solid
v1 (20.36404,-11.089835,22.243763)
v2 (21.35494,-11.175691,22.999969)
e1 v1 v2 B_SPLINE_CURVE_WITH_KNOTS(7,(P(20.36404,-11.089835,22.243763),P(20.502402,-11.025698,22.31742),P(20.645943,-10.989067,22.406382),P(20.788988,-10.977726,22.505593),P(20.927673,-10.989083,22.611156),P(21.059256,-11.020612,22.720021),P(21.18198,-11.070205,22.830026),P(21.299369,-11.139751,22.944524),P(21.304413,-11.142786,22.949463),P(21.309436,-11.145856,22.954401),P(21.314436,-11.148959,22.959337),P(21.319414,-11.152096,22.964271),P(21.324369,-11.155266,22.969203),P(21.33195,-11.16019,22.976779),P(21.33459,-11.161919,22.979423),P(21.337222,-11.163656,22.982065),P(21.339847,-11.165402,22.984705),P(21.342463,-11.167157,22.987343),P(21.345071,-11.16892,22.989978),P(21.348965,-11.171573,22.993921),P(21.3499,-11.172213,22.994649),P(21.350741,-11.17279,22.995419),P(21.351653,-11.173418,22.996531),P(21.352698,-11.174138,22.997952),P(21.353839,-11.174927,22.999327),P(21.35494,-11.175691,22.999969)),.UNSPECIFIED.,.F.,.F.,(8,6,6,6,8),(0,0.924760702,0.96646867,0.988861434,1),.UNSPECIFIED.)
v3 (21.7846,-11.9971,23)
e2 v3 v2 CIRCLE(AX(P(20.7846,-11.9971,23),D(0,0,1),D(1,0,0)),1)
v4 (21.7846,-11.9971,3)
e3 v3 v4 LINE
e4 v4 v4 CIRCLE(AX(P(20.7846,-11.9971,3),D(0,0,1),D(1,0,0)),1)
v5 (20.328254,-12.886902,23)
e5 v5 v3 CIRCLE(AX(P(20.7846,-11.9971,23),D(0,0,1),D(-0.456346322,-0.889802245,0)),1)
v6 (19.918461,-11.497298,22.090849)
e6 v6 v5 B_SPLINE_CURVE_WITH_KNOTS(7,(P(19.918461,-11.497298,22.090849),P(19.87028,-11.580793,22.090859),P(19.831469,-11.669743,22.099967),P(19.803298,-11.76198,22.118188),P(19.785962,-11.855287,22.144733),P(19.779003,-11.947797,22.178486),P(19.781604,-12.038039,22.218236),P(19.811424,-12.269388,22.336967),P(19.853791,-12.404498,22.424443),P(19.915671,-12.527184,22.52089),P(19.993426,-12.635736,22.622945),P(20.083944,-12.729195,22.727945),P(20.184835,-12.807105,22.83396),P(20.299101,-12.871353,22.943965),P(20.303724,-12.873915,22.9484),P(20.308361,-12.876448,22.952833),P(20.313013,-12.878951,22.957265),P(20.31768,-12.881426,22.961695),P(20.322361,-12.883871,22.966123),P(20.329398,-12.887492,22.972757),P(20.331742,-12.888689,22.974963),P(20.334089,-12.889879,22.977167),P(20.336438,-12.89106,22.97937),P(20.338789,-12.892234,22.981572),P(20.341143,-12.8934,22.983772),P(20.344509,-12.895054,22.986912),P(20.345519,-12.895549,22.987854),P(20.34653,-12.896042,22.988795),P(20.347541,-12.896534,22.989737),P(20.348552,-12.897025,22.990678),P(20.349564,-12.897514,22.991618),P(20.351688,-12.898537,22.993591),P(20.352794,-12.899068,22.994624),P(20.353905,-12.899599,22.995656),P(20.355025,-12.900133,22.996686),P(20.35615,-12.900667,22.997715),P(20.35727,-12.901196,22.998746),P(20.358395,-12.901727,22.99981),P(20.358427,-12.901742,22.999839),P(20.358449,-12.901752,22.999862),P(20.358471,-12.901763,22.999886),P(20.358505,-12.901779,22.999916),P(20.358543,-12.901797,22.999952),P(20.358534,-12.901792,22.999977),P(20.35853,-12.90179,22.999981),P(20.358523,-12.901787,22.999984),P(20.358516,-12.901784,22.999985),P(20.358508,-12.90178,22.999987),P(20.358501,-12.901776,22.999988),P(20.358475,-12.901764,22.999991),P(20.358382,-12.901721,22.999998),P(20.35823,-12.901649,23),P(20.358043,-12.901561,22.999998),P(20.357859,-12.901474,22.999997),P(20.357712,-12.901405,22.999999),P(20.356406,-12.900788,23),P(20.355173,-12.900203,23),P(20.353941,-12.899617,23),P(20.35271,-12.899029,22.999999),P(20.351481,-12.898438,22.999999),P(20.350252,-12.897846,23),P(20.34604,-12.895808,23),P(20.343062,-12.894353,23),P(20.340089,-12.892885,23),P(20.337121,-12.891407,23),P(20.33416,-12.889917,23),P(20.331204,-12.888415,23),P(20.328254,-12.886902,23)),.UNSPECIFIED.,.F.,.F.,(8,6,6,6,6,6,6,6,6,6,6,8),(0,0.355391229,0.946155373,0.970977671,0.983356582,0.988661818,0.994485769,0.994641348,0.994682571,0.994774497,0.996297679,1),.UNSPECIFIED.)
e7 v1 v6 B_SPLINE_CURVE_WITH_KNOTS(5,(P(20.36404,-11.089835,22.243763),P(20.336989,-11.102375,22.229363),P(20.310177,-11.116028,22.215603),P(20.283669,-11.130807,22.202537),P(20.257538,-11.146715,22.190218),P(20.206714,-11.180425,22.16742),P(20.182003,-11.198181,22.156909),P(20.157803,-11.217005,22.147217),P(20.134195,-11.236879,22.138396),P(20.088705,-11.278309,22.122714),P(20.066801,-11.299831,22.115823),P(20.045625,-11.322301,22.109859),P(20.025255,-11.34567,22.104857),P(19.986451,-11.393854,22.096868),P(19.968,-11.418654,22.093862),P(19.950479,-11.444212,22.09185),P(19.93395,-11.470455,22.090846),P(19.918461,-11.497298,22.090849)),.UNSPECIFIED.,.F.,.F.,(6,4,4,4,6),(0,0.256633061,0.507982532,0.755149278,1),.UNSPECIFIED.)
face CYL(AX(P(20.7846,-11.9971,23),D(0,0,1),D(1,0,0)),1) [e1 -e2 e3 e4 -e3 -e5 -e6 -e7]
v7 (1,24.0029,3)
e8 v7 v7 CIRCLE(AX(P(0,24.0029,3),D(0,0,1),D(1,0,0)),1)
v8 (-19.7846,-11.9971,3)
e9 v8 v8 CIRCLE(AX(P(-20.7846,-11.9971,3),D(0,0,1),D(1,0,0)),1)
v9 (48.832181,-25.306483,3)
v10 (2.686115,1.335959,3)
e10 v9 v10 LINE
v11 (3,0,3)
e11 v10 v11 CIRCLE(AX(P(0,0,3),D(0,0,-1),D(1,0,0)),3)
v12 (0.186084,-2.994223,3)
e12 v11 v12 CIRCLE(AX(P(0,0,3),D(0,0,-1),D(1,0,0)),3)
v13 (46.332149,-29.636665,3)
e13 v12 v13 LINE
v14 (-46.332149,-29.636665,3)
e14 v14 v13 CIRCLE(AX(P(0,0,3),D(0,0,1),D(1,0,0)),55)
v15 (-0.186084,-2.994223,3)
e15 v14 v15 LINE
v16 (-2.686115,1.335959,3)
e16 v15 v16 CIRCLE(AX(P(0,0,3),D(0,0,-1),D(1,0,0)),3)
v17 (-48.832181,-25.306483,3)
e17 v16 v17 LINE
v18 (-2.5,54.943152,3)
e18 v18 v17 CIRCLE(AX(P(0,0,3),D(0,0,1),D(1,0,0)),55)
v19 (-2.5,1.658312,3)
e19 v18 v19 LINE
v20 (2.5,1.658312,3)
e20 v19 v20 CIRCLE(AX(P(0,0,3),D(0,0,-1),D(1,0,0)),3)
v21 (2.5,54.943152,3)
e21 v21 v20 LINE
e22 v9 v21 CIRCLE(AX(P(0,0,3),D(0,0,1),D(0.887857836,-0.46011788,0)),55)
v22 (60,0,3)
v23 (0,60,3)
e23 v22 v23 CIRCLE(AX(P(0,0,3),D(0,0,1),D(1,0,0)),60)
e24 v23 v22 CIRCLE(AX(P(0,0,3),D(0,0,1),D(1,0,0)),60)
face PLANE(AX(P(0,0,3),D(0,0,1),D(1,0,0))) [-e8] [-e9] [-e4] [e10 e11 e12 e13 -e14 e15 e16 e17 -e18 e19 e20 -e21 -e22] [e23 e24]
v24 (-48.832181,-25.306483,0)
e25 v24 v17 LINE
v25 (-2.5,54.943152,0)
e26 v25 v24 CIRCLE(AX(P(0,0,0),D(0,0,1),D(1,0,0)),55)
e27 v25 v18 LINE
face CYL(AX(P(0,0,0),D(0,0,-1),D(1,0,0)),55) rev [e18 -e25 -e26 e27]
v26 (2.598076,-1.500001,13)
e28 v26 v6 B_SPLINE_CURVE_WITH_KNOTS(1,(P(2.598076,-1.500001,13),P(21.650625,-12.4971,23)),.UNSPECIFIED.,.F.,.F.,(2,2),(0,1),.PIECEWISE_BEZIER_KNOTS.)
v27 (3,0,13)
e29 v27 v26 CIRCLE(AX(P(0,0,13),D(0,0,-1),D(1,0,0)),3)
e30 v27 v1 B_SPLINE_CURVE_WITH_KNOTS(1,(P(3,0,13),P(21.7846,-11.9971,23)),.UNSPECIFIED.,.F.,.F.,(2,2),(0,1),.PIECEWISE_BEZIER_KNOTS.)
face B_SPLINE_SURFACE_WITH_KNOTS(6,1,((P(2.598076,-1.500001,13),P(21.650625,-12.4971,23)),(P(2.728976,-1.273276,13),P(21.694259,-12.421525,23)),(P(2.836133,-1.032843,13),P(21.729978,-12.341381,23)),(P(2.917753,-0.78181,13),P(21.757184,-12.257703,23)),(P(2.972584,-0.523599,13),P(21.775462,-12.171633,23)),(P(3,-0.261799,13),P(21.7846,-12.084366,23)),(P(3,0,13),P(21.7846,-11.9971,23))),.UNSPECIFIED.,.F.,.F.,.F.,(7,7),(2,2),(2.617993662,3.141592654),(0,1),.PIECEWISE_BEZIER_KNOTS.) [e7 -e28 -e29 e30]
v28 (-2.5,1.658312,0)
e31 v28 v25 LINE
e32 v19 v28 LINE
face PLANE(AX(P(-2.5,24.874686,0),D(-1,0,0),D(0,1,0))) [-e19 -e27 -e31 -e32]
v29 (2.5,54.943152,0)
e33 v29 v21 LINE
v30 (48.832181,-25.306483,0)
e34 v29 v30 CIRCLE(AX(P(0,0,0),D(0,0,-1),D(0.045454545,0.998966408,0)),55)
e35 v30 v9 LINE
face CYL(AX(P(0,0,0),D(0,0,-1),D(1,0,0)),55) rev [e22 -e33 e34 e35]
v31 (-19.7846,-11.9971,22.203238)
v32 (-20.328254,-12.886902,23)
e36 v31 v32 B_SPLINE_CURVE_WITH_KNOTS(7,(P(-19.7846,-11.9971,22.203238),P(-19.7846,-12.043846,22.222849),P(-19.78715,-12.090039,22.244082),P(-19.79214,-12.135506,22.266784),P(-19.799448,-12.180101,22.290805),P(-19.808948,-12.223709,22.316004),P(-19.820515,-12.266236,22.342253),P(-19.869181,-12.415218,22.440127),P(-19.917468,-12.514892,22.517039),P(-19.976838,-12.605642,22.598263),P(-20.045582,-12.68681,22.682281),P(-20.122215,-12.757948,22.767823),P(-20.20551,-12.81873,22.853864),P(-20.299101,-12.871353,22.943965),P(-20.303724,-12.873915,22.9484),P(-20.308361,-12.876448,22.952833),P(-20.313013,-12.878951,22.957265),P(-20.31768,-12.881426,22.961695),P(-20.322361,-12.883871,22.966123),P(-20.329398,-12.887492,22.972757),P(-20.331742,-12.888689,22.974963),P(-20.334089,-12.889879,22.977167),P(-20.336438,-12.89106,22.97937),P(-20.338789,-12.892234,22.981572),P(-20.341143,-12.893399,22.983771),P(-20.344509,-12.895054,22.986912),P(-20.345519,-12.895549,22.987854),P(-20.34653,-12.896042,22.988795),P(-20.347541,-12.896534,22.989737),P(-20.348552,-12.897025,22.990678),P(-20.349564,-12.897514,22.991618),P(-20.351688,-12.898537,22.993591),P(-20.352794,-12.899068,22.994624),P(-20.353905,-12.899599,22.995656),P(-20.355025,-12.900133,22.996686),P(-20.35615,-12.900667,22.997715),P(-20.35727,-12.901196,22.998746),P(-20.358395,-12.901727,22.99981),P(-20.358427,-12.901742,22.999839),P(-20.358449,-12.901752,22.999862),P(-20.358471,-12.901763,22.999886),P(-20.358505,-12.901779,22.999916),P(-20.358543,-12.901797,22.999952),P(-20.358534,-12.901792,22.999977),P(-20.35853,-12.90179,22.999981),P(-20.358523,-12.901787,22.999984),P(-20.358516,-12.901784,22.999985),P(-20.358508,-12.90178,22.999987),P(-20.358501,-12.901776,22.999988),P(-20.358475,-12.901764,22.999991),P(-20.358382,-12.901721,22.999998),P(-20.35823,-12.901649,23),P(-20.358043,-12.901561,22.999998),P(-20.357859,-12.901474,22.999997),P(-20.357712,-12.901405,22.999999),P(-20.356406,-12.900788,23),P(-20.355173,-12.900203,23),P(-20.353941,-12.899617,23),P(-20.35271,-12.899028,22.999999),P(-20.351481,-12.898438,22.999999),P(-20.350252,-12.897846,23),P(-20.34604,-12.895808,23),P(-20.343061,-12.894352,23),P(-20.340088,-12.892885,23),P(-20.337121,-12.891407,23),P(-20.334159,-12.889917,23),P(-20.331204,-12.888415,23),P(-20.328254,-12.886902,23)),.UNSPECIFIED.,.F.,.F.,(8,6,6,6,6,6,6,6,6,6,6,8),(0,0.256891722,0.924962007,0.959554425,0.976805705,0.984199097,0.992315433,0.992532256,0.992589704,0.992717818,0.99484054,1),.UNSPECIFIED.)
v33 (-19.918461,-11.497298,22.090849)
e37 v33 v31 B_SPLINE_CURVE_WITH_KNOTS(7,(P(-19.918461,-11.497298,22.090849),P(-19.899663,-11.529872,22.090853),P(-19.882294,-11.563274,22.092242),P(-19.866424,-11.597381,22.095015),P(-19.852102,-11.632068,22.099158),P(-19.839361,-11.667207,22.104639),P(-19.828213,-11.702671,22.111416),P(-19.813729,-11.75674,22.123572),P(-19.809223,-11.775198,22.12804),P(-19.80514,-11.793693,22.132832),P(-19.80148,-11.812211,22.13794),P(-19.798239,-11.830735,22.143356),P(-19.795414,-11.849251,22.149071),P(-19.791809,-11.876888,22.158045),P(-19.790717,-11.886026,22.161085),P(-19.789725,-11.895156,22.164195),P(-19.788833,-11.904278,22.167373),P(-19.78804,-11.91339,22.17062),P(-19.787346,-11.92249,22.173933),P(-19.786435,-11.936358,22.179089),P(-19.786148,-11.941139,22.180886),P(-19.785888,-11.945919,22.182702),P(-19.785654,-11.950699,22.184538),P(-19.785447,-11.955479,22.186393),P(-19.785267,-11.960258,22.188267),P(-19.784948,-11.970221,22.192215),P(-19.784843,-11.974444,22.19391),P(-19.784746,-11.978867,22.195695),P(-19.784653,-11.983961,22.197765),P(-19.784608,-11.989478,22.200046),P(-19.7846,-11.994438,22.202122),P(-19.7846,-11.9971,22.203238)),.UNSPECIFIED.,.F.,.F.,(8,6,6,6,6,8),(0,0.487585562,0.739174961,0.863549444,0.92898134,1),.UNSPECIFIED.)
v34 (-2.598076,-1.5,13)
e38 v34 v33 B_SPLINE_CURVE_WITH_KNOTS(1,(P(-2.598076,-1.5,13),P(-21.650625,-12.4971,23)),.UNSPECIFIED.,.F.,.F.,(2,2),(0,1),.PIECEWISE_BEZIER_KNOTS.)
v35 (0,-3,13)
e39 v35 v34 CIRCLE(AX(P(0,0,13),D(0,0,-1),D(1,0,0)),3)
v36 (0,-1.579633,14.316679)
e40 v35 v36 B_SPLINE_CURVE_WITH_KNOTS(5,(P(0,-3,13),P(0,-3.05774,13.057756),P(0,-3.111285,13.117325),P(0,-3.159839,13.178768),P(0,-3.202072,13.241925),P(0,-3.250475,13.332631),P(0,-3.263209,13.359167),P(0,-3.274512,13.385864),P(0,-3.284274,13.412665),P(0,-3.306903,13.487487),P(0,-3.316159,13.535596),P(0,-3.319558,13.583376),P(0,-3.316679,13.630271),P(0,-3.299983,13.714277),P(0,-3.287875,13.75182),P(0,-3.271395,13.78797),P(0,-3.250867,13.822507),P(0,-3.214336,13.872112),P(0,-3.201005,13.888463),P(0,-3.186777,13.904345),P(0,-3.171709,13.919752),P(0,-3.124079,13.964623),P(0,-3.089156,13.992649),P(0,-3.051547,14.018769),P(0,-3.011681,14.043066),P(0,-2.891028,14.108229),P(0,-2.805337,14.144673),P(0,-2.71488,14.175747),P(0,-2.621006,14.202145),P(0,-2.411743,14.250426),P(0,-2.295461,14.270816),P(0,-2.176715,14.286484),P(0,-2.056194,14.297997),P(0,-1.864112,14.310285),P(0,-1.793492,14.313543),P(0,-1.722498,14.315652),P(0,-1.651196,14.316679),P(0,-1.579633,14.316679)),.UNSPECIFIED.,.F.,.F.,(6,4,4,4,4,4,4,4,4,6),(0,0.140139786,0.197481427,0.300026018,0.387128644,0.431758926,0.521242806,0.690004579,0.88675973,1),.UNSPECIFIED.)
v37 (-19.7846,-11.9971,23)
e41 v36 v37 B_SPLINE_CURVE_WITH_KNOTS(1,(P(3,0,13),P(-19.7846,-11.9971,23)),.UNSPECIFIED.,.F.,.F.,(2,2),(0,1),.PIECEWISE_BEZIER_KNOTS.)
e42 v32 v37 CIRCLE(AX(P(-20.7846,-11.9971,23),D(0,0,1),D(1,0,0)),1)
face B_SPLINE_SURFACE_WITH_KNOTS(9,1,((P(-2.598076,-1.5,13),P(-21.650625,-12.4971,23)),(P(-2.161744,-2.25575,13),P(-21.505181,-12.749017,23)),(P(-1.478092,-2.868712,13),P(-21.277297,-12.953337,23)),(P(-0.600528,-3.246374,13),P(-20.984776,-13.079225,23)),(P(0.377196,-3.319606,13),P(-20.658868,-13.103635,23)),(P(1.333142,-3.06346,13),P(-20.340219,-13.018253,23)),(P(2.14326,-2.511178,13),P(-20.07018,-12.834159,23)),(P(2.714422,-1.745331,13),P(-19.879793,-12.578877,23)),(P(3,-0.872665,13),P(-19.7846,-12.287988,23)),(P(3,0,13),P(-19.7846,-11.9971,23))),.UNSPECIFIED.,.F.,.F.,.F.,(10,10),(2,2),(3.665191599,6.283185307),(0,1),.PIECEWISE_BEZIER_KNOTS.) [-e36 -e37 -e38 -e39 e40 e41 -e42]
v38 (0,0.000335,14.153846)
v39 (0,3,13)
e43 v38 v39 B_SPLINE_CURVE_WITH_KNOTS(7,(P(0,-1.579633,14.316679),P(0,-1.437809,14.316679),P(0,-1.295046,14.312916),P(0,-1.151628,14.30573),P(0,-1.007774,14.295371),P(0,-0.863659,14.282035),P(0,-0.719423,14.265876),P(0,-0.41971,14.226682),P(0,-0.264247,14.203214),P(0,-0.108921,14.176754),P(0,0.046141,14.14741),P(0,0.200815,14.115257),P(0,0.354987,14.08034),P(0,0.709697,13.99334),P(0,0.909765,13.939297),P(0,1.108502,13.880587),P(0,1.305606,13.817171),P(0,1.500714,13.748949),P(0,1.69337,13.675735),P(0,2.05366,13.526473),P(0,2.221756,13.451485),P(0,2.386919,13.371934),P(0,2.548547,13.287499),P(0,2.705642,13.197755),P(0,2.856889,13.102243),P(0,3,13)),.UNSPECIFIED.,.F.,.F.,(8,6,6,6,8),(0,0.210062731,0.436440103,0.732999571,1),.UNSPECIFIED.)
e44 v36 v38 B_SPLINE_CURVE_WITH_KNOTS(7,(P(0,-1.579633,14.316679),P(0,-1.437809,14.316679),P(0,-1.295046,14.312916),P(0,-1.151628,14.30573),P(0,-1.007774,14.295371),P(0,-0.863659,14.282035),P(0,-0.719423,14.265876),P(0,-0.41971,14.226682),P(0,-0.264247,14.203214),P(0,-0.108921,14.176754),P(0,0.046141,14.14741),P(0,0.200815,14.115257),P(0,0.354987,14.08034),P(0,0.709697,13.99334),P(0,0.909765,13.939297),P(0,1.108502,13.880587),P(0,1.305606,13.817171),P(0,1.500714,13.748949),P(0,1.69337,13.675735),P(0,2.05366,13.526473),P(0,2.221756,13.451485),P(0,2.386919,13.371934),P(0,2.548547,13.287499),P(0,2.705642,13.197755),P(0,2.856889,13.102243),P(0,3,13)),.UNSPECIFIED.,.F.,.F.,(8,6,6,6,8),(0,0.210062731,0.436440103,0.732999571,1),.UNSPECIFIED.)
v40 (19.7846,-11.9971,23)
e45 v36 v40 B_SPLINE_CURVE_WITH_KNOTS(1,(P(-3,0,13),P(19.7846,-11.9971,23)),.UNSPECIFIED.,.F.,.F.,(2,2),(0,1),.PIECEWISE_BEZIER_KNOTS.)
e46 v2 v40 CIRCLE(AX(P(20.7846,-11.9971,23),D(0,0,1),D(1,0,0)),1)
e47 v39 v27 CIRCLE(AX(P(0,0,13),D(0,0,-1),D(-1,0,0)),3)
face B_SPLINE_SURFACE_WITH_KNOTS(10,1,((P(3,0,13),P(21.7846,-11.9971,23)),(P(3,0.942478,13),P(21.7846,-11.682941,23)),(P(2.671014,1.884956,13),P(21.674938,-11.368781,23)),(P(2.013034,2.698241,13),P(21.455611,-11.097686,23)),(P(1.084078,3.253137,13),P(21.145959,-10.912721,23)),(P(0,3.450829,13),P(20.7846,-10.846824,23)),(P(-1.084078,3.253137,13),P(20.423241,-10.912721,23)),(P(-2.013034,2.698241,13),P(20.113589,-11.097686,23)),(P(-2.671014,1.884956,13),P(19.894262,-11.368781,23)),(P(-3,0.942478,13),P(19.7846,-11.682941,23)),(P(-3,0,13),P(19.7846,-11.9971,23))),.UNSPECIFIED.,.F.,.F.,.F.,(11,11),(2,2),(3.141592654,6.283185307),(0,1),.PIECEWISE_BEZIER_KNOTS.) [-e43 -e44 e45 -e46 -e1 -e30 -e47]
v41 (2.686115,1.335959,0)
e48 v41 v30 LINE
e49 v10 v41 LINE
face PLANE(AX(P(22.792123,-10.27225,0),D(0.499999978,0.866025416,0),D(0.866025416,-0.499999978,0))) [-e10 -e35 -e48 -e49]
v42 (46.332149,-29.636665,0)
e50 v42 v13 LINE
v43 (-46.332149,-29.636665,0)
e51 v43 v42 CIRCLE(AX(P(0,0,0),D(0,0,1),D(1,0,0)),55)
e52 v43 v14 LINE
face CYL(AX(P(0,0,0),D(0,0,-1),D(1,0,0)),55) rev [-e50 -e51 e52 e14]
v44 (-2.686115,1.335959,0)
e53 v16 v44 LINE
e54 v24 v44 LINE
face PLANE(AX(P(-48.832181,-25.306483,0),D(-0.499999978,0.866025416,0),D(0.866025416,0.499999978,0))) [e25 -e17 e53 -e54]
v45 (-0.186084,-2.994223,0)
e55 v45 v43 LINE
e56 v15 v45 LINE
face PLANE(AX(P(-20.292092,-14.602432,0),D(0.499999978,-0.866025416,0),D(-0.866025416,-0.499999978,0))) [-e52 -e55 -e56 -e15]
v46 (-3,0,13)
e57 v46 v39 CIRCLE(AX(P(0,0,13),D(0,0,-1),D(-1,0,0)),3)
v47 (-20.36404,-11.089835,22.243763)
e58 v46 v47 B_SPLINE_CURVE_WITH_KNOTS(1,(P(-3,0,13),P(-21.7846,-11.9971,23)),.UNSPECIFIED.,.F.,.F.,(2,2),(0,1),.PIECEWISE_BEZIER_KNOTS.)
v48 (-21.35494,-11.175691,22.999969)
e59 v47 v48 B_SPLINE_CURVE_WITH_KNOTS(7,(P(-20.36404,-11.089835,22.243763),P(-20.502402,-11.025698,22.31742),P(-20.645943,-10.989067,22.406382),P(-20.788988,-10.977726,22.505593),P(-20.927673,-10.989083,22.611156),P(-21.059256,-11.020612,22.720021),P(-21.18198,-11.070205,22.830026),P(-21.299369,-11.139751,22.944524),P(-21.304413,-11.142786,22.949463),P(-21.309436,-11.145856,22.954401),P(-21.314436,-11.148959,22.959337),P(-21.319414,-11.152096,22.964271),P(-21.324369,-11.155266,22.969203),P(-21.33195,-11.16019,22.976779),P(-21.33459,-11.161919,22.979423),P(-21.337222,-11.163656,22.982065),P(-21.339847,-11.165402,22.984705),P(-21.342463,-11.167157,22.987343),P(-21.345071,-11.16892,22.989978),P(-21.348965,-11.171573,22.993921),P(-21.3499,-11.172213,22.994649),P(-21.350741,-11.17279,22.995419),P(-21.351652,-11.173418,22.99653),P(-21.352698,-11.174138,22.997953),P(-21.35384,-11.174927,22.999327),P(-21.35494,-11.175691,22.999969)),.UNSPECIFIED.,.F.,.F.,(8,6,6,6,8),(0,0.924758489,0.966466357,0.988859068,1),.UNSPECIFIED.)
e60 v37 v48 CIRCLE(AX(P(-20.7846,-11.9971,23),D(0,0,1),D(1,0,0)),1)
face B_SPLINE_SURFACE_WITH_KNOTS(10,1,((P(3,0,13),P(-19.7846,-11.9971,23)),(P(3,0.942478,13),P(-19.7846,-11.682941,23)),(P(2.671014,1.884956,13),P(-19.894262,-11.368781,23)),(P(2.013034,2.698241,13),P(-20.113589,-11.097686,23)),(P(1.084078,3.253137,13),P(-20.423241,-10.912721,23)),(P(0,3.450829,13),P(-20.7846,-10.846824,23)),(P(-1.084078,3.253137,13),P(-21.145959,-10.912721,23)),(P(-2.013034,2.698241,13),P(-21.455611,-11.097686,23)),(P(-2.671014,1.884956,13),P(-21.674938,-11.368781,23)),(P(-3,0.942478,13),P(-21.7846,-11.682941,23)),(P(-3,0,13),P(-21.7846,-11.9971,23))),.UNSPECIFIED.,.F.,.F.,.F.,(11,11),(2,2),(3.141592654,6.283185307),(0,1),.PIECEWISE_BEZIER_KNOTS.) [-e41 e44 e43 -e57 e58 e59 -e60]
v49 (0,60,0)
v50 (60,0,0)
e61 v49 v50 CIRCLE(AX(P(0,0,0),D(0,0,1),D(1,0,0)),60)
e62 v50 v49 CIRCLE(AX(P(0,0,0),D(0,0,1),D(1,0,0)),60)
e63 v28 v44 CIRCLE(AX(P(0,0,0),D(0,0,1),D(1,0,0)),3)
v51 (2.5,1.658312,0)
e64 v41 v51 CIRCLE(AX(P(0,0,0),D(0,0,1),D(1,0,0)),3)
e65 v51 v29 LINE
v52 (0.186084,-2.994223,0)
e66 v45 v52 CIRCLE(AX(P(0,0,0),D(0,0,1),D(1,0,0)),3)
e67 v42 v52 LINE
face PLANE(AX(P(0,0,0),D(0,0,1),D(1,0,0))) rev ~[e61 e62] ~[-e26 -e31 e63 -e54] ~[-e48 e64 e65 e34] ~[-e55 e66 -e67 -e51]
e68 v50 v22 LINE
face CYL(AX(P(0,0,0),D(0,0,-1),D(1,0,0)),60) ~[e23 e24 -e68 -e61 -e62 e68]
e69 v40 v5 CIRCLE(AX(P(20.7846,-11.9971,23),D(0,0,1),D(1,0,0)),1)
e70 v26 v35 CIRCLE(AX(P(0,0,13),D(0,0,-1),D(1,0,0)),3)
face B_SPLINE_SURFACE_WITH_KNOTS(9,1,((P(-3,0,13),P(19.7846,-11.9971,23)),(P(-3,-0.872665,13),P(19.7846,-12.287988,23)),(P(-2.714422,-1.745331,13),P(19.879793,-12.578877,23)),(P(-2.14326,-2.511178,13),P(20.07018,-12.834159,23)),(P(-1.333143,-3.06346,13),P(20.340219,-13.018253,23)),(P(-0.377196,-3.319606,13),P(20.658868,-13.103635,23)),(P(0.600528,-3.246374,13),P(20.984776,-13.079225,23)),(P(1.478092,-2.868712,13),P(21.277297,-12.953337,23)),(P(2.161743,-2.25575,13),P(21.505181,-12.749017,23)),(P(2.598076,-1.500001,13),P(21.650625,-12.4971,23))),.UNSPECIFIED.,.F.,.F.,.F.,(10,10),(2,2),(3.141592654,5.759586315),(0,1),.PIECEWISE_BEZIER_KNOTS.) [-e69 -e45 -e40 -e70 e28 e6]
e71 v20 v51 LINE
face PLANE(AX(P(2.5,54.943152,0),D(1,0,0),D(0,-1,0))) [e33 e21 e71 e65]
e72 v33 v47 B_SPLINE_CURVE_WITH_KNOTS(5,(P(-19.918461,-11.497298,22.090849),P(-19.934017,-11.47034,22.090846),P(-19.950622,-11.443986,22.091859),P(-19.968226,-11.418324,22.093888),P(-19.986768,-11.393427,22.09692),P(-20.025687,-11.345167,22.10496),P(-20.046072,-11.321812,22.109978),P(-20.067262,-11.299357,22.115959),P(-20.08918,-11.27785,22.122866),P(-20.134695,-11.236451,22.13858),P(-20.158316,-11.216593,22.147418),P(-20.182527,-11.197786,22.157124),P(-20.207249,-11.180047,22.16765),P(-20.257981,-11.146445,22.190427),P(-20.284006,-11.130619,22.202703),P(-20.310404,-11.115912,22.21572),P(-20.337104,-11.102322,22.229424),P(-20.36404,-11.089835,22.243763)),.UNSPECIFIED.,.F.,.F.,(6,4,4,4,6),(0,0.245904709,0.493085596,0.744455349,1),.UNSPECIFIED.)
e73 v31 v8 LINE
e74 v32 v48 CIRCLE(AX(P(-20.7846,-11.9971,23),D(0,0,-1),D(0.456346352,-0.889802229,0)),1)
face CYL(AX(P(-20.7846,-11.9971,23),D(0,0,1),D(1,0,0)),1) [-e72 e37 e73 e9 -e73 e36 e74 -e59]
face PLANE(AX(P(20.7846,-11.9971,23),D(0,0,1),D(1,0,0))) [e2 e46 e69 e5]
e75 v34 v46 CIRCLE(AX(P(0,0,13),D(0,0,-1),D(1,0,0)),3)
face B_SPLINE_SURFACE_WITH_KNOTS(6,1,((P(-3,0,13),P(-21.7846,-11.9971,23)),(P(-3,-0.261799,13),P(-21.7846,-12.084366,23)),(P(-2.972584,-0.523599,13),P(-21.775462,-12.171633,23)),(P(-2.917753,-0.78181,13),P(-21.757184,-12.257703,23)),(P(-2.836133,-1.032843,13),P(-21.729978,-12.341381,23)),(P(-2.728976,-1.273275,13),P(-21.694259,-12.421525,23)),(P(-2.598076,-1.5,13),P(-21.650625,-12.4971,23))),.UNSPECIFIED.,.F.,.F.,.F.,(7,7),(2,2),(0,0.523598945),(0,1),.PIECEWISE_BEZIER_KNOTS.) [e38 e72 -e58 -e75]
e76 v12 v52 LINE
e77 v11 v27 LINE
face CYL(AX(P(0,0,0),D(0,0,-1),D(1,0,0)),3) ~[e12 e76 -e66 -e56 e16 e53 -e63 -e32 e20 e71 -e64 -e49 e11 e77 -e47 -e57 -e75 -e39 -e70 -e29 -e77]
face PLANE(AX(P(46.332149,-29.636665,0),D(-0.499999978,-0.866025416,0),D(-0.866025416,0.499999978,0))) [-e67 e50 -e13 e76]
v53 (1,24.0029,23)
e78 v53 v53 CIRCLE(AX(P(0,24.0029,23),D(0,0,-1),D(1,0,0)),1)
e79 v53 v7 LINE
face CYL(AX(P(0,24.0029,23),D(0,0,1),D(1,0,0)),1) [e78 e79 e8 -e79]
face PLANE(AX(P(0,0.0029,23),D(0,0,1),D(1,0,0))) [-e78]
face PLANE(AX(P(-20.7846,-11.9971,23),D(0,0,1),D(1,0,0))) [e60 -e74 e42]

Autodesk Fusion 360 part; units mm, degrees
sketch "スケッチ1" plane through (0, 0, 0) normal (0, 0, 1) x (1, 0, 0)
  circle A0 centre (0, 0) radius 76
  line L0 (-25, 0) -> (125, 0)
  circle A1 centre (120, 0) radius 5
  ellipse E0 centre (0, 0) end of major axis (125, 0) minor radius 90
  line L1 (-125, 0) -> (125, 0)
  line L2 (0, -90) -> (0, 90)
  ellipse E1 centre (0, 0) end of major axis (115, 0) minor radius 80
  line L3 (-115, 0) -> (115, 0)
  line L4 (0, -80) -> (0, 80)
  circle A2 centre (0, 85) radius 5
  circle A3 centre (0, -85) radius 5
  line L5 (120, 0) -> (115, 0)
  line L6 (120, 5) -> (120, 0)
  line L7 (115, 5) -> (125, 5)
  line L8 (125, 5) -> (125, -5)
  line L9 (125, -5) -> (115, -5)
  line L10 (115, -5) -> (115, 5)
  dimension "d1" = 152
  dimension "d2" = 150
extrude "押し出し1" add sketch "スケッチ1" along normal blind 141 contours A0 L0 L1 L2 L3 L4 | A0 L0 L1 L2 L3 L4 | A0 L0 L1 L2 L3 L4 | A0 L0 L1 L2 L3 L4 makes body 1
extrude "押し出し2" add sketch "スケッチ1" along normal blind 3 separate body contours E0 E1 A3 L9 L10 | E0 E1 A2 L7 L10 | L2 A2 | L2 A2 | L2 A3 | L2 A3 makes body 2 at (30.5782, -83.5354, 0)
sketch "スケッチ2" plane through (0, 0, 0) normal (0, 1, 0) x (1, 0, 0)
  line L0 (0, -170) -> (100, -170)
  line L1 (120, -150) -> (120, 0)
  arc A0 (100, -170) -> (120, -150) centre (100, -150) ccw
  line L2 (0, -170) -> (0, -175)
  line L3 (0, -175) -> (100, -175)
  line L4 (100, -175) -> (100, -165)
  line L5 (100, -165) -> (0, -165)
  line L6 (0, -165) -> (0, -175)
  circle A1 centre (100, -150) radius 15
  circle A2 centre (100, -150) radius 25
  line L7 (125, -150) -> (115, -150)
  line L8 (115, -150) -> (115, 0)
  line L9 (115, 0) -> (125, 0)
  line L10 (125, 0) -> (125, -150)
  dimension "d11" = 20
  dimension "d24" = 5
  dimension "d25" = 100
  dimension "d26" = 10
ref_plane "作業平面1" through (0, 0, 170) normal (0, 0, 1) x (1, 0, 0)
sketch "スケッチ3" plane through (0, 0, 170) normal (0, 0, 1) x (1, 0, 0)
  circle A0 centre (0, 0) radius 3
  circle A1 centre (0, 0) radius 5
  circle A2 centre (0, 0) radius 2.5
  line L0 (0, 0) -> (-5, 0)
  line L1 (0, 0) -> (-2.5, 4.3301)
  line L2 (0, 0) -> (-2.5, -4.3301)
  circle A3 centre (-1.875, 3.2476) radius 1.25
  circle A4 centre (-1.875, -3.2476) radius 1.25
  line L3 (0, 0) -> (5, 0)
  line L4 (0, 0) -> (0, 5)
  line L5 (0, 0) -> (0, -5)
  arc A5 (0, 3) -> (-1.25, 2.1651) centre (-0.2231, 1.9809) ccw
  arc A6 (-1.25, -2.1651) -> (0, -3) centre (-0.2231, -1.9809) ccw
  dimension "d17" = 6
  dimension "d18" = 10
  dimension "d23" = 5
extrude "押し出し4" add sketch "スケッチ3" along normal mid plane 10 separate body contours A0 A1 L3 L5 | A0 A1 L3 L4 | A1 A3 L4 A5 | A0 A5 | A0 A6 | A1 A4 L5 A6 | A0 L1 A5 | A0 L1 A3 | A0 L2 A4 | A0 L2 A6 | A0 L1 A3 | A0 L1 A3 | A0 L2 A4 | A0 L2 A4 makes body 3
extrude "押し出し6" add sketch "スケッチ2" along normal mid plane 10 contours L0 L5 L6 A2 | L0 L2 L3 L6 A2 | L0 L4 L5 A2 | L0 L4 A2 | A0 L4 A1 L7 | A0 L4 A2 L7 | L1 A2 L7 L8 | L1 A2 L7 | L1 A2 L8 L9 | L1 A2 L9 L10 bodies 3 2
extrude "押し出し5" cut sketch "スケッチ3" along normal mid plane 10 contours A0 A2 L3 L4 | A0 A2 L3 L5 | A0 A2 A3 L4 | A0 A6 | A0 A2 A4 L5 | A2 L3 L4 | A2 L3 L5 | A3 A5 | A2 L1 L4 | A4 A6 bodies 3
extrude "押し出し7" cut sketch "スケッチ1" along normal blind 175 contours E0 L8 L9 | E0 L7 L8 bodies 3
sketch "スケッチ4" plane through (0, 0, 0) normal (0, 0, 1) x (1, 0, 0)
  circle A0 centre (85, 0) radius 3
  circle A1 centre (75, 0) radius 3
  dimension "d66" = 6
  dimension "d68" = 6
extrude "押し出し8" add sketch "スケッチ4" along normal blind 150 separate body makes body 4 at (85.8125, 2.8879, 100) makes body 5 at (75.8125, 2.8879, 100)
sketch "スケッチ5" plane through (0, 0, 150) normal (0, 0, 1) x (-1, 0, 0)
  circle A0 centre (-85, 0) radius 3
  circle A1 centre (-75, 0) radius 3
  circle A2 centre (-85, 0) radius 1.5
  circle A3 centre (-75, 0) radius 1.6
  dimension "d69" = 3
  dimension "d70" = 3.2
extrude "押し出し9" add sketch "スケッチ5" along normal blind 3 contours A2 bodies 4
extrude "押し出し10" cut sketch "スケッチ5" against normal blind 3 contours A3 bodies 5
sketch "スケッチ6" plane through (0, 0, 0) normal (0, 0, 1) x (1, 0, 0)
  circle A0 centre (0, 0) radius 60
  circle A1 centre (0, 0) radius 55
  circle A2 centre (0, 0) radius 25
  line L0 (0, 0) -> (0, 60)
  line L1 (2.5, 55) -> (2.5, 0)
  line L2 (2.5, 0) -> (-2.5, 0)
  line L3 (-2.5, 0) -> (-2.5, 55)
  line L4 (1.25, -2.1651) -> (-46.3814, -29.6651)
  line L5 (-48.8814, -25.3349) -> (-1.25, 2.1651)
  line L6 (-1.25, 2.1651) -> (1.25, -2.1651)
  line L7 (1.25, 2.1651) -> (48.8814, -25.3349)
  line L8 (46.3814, -29.6651) -> (-1.25, -2.1651)
  line L9 (-1.25, -2.1651) -> (1.25, 2.1651)
  circle A3 centre (0, 0) radius 3
  dimension "d41" = 50
  dimension "d43" = 5
  dimension "d45" = 360
  dimension "d48" = 6
extrude "押し出し11" add sketch "スケッチ6" along normal blind 3 separate body contours A1 A2 L0 L1 | A1 A2 L0 L3 | A0 | A2 L0 L3 A3 | A2 L0 L1 A3 | A1 A2 L4 L5 | L0 L1 L7 L9 A3 | L0 L3 L5 L6 A3 | A1 A2 L7 L8 | A2 L4 L5 A3 | L1 L2 L7 L9 | L2 L3 L4 L5 L8 L9 A3 | L2 L3 L5 L6 | L1 L2 L4 L6 L7 L8 A3 | L4 L6 L8 L9 | A2 L7 L8 A3 makes body 6
extrude "押し出し12" add sketch "スケッチ6" along normal blind 13 contours L0 L1 L7 L9 A3 | L0 L3 L5 L6 A3 | L1 L7 A3 | L3 L5 A3 | L1 L2 L7 L9 | L2 L3 L4 L5 L8 L9 A3 | L2 L3 L5 L6 | L1 L2 L4 L6 L7 L8 A3 | L4 L6 L8 L9 | L4 L8 A3 bodies 6
ref_plane "作業平面2" through (0, 0, 23) normal (0, 0, 1) x (1, 0, 0)
sketch "スケッチ7" plane through (0, 0.0029, 23) normal (0, 0, 1) x (1, 0, 0)
  circle A0 centre (0, 0) radius 25
  line L0 (0, 0) -> (25, 0) construction
  line L1 (0, 0) -> (26.2494, 0) construction
  line L2 (0, 0) -> (28.4476, 0) construction
  circle A1 centre (-20.7846, -12) radius 1
  circle A2 centre (20.7846, -12) radius 1
  circle A3 centre (0, 24) radius 1
  dimension "d61" = 2
  dimension "d62" = 2
  dimension "d63" = 2
sketch "スケッチ8" plane through (0, 0, 13) normal (0, 0, 1) x (-1, 0, 0)
  circle A0 centre (0, 0) radius 3
  circle A1 centre (0, 0) radius 3
loft "ロフト1" add profiles "スケッチ8", "スケッチ7" section 1 section 2 contours A3 bodies 6
loft "ロフト2" add profiles "スケッチ8", "スケッチ7" section 1 section 2 contours A1 bodies 6
loft "ロフト3" add profiles "スケッチ8", "スケッチ7" section 1 section 2 contours A2 bodies 6
extrude "押し出し13" add sketch "スケッチ7" against normal blind 20 contours A3 | A1 | A2 bodies 6
hidden bodies 1 3 4 5
